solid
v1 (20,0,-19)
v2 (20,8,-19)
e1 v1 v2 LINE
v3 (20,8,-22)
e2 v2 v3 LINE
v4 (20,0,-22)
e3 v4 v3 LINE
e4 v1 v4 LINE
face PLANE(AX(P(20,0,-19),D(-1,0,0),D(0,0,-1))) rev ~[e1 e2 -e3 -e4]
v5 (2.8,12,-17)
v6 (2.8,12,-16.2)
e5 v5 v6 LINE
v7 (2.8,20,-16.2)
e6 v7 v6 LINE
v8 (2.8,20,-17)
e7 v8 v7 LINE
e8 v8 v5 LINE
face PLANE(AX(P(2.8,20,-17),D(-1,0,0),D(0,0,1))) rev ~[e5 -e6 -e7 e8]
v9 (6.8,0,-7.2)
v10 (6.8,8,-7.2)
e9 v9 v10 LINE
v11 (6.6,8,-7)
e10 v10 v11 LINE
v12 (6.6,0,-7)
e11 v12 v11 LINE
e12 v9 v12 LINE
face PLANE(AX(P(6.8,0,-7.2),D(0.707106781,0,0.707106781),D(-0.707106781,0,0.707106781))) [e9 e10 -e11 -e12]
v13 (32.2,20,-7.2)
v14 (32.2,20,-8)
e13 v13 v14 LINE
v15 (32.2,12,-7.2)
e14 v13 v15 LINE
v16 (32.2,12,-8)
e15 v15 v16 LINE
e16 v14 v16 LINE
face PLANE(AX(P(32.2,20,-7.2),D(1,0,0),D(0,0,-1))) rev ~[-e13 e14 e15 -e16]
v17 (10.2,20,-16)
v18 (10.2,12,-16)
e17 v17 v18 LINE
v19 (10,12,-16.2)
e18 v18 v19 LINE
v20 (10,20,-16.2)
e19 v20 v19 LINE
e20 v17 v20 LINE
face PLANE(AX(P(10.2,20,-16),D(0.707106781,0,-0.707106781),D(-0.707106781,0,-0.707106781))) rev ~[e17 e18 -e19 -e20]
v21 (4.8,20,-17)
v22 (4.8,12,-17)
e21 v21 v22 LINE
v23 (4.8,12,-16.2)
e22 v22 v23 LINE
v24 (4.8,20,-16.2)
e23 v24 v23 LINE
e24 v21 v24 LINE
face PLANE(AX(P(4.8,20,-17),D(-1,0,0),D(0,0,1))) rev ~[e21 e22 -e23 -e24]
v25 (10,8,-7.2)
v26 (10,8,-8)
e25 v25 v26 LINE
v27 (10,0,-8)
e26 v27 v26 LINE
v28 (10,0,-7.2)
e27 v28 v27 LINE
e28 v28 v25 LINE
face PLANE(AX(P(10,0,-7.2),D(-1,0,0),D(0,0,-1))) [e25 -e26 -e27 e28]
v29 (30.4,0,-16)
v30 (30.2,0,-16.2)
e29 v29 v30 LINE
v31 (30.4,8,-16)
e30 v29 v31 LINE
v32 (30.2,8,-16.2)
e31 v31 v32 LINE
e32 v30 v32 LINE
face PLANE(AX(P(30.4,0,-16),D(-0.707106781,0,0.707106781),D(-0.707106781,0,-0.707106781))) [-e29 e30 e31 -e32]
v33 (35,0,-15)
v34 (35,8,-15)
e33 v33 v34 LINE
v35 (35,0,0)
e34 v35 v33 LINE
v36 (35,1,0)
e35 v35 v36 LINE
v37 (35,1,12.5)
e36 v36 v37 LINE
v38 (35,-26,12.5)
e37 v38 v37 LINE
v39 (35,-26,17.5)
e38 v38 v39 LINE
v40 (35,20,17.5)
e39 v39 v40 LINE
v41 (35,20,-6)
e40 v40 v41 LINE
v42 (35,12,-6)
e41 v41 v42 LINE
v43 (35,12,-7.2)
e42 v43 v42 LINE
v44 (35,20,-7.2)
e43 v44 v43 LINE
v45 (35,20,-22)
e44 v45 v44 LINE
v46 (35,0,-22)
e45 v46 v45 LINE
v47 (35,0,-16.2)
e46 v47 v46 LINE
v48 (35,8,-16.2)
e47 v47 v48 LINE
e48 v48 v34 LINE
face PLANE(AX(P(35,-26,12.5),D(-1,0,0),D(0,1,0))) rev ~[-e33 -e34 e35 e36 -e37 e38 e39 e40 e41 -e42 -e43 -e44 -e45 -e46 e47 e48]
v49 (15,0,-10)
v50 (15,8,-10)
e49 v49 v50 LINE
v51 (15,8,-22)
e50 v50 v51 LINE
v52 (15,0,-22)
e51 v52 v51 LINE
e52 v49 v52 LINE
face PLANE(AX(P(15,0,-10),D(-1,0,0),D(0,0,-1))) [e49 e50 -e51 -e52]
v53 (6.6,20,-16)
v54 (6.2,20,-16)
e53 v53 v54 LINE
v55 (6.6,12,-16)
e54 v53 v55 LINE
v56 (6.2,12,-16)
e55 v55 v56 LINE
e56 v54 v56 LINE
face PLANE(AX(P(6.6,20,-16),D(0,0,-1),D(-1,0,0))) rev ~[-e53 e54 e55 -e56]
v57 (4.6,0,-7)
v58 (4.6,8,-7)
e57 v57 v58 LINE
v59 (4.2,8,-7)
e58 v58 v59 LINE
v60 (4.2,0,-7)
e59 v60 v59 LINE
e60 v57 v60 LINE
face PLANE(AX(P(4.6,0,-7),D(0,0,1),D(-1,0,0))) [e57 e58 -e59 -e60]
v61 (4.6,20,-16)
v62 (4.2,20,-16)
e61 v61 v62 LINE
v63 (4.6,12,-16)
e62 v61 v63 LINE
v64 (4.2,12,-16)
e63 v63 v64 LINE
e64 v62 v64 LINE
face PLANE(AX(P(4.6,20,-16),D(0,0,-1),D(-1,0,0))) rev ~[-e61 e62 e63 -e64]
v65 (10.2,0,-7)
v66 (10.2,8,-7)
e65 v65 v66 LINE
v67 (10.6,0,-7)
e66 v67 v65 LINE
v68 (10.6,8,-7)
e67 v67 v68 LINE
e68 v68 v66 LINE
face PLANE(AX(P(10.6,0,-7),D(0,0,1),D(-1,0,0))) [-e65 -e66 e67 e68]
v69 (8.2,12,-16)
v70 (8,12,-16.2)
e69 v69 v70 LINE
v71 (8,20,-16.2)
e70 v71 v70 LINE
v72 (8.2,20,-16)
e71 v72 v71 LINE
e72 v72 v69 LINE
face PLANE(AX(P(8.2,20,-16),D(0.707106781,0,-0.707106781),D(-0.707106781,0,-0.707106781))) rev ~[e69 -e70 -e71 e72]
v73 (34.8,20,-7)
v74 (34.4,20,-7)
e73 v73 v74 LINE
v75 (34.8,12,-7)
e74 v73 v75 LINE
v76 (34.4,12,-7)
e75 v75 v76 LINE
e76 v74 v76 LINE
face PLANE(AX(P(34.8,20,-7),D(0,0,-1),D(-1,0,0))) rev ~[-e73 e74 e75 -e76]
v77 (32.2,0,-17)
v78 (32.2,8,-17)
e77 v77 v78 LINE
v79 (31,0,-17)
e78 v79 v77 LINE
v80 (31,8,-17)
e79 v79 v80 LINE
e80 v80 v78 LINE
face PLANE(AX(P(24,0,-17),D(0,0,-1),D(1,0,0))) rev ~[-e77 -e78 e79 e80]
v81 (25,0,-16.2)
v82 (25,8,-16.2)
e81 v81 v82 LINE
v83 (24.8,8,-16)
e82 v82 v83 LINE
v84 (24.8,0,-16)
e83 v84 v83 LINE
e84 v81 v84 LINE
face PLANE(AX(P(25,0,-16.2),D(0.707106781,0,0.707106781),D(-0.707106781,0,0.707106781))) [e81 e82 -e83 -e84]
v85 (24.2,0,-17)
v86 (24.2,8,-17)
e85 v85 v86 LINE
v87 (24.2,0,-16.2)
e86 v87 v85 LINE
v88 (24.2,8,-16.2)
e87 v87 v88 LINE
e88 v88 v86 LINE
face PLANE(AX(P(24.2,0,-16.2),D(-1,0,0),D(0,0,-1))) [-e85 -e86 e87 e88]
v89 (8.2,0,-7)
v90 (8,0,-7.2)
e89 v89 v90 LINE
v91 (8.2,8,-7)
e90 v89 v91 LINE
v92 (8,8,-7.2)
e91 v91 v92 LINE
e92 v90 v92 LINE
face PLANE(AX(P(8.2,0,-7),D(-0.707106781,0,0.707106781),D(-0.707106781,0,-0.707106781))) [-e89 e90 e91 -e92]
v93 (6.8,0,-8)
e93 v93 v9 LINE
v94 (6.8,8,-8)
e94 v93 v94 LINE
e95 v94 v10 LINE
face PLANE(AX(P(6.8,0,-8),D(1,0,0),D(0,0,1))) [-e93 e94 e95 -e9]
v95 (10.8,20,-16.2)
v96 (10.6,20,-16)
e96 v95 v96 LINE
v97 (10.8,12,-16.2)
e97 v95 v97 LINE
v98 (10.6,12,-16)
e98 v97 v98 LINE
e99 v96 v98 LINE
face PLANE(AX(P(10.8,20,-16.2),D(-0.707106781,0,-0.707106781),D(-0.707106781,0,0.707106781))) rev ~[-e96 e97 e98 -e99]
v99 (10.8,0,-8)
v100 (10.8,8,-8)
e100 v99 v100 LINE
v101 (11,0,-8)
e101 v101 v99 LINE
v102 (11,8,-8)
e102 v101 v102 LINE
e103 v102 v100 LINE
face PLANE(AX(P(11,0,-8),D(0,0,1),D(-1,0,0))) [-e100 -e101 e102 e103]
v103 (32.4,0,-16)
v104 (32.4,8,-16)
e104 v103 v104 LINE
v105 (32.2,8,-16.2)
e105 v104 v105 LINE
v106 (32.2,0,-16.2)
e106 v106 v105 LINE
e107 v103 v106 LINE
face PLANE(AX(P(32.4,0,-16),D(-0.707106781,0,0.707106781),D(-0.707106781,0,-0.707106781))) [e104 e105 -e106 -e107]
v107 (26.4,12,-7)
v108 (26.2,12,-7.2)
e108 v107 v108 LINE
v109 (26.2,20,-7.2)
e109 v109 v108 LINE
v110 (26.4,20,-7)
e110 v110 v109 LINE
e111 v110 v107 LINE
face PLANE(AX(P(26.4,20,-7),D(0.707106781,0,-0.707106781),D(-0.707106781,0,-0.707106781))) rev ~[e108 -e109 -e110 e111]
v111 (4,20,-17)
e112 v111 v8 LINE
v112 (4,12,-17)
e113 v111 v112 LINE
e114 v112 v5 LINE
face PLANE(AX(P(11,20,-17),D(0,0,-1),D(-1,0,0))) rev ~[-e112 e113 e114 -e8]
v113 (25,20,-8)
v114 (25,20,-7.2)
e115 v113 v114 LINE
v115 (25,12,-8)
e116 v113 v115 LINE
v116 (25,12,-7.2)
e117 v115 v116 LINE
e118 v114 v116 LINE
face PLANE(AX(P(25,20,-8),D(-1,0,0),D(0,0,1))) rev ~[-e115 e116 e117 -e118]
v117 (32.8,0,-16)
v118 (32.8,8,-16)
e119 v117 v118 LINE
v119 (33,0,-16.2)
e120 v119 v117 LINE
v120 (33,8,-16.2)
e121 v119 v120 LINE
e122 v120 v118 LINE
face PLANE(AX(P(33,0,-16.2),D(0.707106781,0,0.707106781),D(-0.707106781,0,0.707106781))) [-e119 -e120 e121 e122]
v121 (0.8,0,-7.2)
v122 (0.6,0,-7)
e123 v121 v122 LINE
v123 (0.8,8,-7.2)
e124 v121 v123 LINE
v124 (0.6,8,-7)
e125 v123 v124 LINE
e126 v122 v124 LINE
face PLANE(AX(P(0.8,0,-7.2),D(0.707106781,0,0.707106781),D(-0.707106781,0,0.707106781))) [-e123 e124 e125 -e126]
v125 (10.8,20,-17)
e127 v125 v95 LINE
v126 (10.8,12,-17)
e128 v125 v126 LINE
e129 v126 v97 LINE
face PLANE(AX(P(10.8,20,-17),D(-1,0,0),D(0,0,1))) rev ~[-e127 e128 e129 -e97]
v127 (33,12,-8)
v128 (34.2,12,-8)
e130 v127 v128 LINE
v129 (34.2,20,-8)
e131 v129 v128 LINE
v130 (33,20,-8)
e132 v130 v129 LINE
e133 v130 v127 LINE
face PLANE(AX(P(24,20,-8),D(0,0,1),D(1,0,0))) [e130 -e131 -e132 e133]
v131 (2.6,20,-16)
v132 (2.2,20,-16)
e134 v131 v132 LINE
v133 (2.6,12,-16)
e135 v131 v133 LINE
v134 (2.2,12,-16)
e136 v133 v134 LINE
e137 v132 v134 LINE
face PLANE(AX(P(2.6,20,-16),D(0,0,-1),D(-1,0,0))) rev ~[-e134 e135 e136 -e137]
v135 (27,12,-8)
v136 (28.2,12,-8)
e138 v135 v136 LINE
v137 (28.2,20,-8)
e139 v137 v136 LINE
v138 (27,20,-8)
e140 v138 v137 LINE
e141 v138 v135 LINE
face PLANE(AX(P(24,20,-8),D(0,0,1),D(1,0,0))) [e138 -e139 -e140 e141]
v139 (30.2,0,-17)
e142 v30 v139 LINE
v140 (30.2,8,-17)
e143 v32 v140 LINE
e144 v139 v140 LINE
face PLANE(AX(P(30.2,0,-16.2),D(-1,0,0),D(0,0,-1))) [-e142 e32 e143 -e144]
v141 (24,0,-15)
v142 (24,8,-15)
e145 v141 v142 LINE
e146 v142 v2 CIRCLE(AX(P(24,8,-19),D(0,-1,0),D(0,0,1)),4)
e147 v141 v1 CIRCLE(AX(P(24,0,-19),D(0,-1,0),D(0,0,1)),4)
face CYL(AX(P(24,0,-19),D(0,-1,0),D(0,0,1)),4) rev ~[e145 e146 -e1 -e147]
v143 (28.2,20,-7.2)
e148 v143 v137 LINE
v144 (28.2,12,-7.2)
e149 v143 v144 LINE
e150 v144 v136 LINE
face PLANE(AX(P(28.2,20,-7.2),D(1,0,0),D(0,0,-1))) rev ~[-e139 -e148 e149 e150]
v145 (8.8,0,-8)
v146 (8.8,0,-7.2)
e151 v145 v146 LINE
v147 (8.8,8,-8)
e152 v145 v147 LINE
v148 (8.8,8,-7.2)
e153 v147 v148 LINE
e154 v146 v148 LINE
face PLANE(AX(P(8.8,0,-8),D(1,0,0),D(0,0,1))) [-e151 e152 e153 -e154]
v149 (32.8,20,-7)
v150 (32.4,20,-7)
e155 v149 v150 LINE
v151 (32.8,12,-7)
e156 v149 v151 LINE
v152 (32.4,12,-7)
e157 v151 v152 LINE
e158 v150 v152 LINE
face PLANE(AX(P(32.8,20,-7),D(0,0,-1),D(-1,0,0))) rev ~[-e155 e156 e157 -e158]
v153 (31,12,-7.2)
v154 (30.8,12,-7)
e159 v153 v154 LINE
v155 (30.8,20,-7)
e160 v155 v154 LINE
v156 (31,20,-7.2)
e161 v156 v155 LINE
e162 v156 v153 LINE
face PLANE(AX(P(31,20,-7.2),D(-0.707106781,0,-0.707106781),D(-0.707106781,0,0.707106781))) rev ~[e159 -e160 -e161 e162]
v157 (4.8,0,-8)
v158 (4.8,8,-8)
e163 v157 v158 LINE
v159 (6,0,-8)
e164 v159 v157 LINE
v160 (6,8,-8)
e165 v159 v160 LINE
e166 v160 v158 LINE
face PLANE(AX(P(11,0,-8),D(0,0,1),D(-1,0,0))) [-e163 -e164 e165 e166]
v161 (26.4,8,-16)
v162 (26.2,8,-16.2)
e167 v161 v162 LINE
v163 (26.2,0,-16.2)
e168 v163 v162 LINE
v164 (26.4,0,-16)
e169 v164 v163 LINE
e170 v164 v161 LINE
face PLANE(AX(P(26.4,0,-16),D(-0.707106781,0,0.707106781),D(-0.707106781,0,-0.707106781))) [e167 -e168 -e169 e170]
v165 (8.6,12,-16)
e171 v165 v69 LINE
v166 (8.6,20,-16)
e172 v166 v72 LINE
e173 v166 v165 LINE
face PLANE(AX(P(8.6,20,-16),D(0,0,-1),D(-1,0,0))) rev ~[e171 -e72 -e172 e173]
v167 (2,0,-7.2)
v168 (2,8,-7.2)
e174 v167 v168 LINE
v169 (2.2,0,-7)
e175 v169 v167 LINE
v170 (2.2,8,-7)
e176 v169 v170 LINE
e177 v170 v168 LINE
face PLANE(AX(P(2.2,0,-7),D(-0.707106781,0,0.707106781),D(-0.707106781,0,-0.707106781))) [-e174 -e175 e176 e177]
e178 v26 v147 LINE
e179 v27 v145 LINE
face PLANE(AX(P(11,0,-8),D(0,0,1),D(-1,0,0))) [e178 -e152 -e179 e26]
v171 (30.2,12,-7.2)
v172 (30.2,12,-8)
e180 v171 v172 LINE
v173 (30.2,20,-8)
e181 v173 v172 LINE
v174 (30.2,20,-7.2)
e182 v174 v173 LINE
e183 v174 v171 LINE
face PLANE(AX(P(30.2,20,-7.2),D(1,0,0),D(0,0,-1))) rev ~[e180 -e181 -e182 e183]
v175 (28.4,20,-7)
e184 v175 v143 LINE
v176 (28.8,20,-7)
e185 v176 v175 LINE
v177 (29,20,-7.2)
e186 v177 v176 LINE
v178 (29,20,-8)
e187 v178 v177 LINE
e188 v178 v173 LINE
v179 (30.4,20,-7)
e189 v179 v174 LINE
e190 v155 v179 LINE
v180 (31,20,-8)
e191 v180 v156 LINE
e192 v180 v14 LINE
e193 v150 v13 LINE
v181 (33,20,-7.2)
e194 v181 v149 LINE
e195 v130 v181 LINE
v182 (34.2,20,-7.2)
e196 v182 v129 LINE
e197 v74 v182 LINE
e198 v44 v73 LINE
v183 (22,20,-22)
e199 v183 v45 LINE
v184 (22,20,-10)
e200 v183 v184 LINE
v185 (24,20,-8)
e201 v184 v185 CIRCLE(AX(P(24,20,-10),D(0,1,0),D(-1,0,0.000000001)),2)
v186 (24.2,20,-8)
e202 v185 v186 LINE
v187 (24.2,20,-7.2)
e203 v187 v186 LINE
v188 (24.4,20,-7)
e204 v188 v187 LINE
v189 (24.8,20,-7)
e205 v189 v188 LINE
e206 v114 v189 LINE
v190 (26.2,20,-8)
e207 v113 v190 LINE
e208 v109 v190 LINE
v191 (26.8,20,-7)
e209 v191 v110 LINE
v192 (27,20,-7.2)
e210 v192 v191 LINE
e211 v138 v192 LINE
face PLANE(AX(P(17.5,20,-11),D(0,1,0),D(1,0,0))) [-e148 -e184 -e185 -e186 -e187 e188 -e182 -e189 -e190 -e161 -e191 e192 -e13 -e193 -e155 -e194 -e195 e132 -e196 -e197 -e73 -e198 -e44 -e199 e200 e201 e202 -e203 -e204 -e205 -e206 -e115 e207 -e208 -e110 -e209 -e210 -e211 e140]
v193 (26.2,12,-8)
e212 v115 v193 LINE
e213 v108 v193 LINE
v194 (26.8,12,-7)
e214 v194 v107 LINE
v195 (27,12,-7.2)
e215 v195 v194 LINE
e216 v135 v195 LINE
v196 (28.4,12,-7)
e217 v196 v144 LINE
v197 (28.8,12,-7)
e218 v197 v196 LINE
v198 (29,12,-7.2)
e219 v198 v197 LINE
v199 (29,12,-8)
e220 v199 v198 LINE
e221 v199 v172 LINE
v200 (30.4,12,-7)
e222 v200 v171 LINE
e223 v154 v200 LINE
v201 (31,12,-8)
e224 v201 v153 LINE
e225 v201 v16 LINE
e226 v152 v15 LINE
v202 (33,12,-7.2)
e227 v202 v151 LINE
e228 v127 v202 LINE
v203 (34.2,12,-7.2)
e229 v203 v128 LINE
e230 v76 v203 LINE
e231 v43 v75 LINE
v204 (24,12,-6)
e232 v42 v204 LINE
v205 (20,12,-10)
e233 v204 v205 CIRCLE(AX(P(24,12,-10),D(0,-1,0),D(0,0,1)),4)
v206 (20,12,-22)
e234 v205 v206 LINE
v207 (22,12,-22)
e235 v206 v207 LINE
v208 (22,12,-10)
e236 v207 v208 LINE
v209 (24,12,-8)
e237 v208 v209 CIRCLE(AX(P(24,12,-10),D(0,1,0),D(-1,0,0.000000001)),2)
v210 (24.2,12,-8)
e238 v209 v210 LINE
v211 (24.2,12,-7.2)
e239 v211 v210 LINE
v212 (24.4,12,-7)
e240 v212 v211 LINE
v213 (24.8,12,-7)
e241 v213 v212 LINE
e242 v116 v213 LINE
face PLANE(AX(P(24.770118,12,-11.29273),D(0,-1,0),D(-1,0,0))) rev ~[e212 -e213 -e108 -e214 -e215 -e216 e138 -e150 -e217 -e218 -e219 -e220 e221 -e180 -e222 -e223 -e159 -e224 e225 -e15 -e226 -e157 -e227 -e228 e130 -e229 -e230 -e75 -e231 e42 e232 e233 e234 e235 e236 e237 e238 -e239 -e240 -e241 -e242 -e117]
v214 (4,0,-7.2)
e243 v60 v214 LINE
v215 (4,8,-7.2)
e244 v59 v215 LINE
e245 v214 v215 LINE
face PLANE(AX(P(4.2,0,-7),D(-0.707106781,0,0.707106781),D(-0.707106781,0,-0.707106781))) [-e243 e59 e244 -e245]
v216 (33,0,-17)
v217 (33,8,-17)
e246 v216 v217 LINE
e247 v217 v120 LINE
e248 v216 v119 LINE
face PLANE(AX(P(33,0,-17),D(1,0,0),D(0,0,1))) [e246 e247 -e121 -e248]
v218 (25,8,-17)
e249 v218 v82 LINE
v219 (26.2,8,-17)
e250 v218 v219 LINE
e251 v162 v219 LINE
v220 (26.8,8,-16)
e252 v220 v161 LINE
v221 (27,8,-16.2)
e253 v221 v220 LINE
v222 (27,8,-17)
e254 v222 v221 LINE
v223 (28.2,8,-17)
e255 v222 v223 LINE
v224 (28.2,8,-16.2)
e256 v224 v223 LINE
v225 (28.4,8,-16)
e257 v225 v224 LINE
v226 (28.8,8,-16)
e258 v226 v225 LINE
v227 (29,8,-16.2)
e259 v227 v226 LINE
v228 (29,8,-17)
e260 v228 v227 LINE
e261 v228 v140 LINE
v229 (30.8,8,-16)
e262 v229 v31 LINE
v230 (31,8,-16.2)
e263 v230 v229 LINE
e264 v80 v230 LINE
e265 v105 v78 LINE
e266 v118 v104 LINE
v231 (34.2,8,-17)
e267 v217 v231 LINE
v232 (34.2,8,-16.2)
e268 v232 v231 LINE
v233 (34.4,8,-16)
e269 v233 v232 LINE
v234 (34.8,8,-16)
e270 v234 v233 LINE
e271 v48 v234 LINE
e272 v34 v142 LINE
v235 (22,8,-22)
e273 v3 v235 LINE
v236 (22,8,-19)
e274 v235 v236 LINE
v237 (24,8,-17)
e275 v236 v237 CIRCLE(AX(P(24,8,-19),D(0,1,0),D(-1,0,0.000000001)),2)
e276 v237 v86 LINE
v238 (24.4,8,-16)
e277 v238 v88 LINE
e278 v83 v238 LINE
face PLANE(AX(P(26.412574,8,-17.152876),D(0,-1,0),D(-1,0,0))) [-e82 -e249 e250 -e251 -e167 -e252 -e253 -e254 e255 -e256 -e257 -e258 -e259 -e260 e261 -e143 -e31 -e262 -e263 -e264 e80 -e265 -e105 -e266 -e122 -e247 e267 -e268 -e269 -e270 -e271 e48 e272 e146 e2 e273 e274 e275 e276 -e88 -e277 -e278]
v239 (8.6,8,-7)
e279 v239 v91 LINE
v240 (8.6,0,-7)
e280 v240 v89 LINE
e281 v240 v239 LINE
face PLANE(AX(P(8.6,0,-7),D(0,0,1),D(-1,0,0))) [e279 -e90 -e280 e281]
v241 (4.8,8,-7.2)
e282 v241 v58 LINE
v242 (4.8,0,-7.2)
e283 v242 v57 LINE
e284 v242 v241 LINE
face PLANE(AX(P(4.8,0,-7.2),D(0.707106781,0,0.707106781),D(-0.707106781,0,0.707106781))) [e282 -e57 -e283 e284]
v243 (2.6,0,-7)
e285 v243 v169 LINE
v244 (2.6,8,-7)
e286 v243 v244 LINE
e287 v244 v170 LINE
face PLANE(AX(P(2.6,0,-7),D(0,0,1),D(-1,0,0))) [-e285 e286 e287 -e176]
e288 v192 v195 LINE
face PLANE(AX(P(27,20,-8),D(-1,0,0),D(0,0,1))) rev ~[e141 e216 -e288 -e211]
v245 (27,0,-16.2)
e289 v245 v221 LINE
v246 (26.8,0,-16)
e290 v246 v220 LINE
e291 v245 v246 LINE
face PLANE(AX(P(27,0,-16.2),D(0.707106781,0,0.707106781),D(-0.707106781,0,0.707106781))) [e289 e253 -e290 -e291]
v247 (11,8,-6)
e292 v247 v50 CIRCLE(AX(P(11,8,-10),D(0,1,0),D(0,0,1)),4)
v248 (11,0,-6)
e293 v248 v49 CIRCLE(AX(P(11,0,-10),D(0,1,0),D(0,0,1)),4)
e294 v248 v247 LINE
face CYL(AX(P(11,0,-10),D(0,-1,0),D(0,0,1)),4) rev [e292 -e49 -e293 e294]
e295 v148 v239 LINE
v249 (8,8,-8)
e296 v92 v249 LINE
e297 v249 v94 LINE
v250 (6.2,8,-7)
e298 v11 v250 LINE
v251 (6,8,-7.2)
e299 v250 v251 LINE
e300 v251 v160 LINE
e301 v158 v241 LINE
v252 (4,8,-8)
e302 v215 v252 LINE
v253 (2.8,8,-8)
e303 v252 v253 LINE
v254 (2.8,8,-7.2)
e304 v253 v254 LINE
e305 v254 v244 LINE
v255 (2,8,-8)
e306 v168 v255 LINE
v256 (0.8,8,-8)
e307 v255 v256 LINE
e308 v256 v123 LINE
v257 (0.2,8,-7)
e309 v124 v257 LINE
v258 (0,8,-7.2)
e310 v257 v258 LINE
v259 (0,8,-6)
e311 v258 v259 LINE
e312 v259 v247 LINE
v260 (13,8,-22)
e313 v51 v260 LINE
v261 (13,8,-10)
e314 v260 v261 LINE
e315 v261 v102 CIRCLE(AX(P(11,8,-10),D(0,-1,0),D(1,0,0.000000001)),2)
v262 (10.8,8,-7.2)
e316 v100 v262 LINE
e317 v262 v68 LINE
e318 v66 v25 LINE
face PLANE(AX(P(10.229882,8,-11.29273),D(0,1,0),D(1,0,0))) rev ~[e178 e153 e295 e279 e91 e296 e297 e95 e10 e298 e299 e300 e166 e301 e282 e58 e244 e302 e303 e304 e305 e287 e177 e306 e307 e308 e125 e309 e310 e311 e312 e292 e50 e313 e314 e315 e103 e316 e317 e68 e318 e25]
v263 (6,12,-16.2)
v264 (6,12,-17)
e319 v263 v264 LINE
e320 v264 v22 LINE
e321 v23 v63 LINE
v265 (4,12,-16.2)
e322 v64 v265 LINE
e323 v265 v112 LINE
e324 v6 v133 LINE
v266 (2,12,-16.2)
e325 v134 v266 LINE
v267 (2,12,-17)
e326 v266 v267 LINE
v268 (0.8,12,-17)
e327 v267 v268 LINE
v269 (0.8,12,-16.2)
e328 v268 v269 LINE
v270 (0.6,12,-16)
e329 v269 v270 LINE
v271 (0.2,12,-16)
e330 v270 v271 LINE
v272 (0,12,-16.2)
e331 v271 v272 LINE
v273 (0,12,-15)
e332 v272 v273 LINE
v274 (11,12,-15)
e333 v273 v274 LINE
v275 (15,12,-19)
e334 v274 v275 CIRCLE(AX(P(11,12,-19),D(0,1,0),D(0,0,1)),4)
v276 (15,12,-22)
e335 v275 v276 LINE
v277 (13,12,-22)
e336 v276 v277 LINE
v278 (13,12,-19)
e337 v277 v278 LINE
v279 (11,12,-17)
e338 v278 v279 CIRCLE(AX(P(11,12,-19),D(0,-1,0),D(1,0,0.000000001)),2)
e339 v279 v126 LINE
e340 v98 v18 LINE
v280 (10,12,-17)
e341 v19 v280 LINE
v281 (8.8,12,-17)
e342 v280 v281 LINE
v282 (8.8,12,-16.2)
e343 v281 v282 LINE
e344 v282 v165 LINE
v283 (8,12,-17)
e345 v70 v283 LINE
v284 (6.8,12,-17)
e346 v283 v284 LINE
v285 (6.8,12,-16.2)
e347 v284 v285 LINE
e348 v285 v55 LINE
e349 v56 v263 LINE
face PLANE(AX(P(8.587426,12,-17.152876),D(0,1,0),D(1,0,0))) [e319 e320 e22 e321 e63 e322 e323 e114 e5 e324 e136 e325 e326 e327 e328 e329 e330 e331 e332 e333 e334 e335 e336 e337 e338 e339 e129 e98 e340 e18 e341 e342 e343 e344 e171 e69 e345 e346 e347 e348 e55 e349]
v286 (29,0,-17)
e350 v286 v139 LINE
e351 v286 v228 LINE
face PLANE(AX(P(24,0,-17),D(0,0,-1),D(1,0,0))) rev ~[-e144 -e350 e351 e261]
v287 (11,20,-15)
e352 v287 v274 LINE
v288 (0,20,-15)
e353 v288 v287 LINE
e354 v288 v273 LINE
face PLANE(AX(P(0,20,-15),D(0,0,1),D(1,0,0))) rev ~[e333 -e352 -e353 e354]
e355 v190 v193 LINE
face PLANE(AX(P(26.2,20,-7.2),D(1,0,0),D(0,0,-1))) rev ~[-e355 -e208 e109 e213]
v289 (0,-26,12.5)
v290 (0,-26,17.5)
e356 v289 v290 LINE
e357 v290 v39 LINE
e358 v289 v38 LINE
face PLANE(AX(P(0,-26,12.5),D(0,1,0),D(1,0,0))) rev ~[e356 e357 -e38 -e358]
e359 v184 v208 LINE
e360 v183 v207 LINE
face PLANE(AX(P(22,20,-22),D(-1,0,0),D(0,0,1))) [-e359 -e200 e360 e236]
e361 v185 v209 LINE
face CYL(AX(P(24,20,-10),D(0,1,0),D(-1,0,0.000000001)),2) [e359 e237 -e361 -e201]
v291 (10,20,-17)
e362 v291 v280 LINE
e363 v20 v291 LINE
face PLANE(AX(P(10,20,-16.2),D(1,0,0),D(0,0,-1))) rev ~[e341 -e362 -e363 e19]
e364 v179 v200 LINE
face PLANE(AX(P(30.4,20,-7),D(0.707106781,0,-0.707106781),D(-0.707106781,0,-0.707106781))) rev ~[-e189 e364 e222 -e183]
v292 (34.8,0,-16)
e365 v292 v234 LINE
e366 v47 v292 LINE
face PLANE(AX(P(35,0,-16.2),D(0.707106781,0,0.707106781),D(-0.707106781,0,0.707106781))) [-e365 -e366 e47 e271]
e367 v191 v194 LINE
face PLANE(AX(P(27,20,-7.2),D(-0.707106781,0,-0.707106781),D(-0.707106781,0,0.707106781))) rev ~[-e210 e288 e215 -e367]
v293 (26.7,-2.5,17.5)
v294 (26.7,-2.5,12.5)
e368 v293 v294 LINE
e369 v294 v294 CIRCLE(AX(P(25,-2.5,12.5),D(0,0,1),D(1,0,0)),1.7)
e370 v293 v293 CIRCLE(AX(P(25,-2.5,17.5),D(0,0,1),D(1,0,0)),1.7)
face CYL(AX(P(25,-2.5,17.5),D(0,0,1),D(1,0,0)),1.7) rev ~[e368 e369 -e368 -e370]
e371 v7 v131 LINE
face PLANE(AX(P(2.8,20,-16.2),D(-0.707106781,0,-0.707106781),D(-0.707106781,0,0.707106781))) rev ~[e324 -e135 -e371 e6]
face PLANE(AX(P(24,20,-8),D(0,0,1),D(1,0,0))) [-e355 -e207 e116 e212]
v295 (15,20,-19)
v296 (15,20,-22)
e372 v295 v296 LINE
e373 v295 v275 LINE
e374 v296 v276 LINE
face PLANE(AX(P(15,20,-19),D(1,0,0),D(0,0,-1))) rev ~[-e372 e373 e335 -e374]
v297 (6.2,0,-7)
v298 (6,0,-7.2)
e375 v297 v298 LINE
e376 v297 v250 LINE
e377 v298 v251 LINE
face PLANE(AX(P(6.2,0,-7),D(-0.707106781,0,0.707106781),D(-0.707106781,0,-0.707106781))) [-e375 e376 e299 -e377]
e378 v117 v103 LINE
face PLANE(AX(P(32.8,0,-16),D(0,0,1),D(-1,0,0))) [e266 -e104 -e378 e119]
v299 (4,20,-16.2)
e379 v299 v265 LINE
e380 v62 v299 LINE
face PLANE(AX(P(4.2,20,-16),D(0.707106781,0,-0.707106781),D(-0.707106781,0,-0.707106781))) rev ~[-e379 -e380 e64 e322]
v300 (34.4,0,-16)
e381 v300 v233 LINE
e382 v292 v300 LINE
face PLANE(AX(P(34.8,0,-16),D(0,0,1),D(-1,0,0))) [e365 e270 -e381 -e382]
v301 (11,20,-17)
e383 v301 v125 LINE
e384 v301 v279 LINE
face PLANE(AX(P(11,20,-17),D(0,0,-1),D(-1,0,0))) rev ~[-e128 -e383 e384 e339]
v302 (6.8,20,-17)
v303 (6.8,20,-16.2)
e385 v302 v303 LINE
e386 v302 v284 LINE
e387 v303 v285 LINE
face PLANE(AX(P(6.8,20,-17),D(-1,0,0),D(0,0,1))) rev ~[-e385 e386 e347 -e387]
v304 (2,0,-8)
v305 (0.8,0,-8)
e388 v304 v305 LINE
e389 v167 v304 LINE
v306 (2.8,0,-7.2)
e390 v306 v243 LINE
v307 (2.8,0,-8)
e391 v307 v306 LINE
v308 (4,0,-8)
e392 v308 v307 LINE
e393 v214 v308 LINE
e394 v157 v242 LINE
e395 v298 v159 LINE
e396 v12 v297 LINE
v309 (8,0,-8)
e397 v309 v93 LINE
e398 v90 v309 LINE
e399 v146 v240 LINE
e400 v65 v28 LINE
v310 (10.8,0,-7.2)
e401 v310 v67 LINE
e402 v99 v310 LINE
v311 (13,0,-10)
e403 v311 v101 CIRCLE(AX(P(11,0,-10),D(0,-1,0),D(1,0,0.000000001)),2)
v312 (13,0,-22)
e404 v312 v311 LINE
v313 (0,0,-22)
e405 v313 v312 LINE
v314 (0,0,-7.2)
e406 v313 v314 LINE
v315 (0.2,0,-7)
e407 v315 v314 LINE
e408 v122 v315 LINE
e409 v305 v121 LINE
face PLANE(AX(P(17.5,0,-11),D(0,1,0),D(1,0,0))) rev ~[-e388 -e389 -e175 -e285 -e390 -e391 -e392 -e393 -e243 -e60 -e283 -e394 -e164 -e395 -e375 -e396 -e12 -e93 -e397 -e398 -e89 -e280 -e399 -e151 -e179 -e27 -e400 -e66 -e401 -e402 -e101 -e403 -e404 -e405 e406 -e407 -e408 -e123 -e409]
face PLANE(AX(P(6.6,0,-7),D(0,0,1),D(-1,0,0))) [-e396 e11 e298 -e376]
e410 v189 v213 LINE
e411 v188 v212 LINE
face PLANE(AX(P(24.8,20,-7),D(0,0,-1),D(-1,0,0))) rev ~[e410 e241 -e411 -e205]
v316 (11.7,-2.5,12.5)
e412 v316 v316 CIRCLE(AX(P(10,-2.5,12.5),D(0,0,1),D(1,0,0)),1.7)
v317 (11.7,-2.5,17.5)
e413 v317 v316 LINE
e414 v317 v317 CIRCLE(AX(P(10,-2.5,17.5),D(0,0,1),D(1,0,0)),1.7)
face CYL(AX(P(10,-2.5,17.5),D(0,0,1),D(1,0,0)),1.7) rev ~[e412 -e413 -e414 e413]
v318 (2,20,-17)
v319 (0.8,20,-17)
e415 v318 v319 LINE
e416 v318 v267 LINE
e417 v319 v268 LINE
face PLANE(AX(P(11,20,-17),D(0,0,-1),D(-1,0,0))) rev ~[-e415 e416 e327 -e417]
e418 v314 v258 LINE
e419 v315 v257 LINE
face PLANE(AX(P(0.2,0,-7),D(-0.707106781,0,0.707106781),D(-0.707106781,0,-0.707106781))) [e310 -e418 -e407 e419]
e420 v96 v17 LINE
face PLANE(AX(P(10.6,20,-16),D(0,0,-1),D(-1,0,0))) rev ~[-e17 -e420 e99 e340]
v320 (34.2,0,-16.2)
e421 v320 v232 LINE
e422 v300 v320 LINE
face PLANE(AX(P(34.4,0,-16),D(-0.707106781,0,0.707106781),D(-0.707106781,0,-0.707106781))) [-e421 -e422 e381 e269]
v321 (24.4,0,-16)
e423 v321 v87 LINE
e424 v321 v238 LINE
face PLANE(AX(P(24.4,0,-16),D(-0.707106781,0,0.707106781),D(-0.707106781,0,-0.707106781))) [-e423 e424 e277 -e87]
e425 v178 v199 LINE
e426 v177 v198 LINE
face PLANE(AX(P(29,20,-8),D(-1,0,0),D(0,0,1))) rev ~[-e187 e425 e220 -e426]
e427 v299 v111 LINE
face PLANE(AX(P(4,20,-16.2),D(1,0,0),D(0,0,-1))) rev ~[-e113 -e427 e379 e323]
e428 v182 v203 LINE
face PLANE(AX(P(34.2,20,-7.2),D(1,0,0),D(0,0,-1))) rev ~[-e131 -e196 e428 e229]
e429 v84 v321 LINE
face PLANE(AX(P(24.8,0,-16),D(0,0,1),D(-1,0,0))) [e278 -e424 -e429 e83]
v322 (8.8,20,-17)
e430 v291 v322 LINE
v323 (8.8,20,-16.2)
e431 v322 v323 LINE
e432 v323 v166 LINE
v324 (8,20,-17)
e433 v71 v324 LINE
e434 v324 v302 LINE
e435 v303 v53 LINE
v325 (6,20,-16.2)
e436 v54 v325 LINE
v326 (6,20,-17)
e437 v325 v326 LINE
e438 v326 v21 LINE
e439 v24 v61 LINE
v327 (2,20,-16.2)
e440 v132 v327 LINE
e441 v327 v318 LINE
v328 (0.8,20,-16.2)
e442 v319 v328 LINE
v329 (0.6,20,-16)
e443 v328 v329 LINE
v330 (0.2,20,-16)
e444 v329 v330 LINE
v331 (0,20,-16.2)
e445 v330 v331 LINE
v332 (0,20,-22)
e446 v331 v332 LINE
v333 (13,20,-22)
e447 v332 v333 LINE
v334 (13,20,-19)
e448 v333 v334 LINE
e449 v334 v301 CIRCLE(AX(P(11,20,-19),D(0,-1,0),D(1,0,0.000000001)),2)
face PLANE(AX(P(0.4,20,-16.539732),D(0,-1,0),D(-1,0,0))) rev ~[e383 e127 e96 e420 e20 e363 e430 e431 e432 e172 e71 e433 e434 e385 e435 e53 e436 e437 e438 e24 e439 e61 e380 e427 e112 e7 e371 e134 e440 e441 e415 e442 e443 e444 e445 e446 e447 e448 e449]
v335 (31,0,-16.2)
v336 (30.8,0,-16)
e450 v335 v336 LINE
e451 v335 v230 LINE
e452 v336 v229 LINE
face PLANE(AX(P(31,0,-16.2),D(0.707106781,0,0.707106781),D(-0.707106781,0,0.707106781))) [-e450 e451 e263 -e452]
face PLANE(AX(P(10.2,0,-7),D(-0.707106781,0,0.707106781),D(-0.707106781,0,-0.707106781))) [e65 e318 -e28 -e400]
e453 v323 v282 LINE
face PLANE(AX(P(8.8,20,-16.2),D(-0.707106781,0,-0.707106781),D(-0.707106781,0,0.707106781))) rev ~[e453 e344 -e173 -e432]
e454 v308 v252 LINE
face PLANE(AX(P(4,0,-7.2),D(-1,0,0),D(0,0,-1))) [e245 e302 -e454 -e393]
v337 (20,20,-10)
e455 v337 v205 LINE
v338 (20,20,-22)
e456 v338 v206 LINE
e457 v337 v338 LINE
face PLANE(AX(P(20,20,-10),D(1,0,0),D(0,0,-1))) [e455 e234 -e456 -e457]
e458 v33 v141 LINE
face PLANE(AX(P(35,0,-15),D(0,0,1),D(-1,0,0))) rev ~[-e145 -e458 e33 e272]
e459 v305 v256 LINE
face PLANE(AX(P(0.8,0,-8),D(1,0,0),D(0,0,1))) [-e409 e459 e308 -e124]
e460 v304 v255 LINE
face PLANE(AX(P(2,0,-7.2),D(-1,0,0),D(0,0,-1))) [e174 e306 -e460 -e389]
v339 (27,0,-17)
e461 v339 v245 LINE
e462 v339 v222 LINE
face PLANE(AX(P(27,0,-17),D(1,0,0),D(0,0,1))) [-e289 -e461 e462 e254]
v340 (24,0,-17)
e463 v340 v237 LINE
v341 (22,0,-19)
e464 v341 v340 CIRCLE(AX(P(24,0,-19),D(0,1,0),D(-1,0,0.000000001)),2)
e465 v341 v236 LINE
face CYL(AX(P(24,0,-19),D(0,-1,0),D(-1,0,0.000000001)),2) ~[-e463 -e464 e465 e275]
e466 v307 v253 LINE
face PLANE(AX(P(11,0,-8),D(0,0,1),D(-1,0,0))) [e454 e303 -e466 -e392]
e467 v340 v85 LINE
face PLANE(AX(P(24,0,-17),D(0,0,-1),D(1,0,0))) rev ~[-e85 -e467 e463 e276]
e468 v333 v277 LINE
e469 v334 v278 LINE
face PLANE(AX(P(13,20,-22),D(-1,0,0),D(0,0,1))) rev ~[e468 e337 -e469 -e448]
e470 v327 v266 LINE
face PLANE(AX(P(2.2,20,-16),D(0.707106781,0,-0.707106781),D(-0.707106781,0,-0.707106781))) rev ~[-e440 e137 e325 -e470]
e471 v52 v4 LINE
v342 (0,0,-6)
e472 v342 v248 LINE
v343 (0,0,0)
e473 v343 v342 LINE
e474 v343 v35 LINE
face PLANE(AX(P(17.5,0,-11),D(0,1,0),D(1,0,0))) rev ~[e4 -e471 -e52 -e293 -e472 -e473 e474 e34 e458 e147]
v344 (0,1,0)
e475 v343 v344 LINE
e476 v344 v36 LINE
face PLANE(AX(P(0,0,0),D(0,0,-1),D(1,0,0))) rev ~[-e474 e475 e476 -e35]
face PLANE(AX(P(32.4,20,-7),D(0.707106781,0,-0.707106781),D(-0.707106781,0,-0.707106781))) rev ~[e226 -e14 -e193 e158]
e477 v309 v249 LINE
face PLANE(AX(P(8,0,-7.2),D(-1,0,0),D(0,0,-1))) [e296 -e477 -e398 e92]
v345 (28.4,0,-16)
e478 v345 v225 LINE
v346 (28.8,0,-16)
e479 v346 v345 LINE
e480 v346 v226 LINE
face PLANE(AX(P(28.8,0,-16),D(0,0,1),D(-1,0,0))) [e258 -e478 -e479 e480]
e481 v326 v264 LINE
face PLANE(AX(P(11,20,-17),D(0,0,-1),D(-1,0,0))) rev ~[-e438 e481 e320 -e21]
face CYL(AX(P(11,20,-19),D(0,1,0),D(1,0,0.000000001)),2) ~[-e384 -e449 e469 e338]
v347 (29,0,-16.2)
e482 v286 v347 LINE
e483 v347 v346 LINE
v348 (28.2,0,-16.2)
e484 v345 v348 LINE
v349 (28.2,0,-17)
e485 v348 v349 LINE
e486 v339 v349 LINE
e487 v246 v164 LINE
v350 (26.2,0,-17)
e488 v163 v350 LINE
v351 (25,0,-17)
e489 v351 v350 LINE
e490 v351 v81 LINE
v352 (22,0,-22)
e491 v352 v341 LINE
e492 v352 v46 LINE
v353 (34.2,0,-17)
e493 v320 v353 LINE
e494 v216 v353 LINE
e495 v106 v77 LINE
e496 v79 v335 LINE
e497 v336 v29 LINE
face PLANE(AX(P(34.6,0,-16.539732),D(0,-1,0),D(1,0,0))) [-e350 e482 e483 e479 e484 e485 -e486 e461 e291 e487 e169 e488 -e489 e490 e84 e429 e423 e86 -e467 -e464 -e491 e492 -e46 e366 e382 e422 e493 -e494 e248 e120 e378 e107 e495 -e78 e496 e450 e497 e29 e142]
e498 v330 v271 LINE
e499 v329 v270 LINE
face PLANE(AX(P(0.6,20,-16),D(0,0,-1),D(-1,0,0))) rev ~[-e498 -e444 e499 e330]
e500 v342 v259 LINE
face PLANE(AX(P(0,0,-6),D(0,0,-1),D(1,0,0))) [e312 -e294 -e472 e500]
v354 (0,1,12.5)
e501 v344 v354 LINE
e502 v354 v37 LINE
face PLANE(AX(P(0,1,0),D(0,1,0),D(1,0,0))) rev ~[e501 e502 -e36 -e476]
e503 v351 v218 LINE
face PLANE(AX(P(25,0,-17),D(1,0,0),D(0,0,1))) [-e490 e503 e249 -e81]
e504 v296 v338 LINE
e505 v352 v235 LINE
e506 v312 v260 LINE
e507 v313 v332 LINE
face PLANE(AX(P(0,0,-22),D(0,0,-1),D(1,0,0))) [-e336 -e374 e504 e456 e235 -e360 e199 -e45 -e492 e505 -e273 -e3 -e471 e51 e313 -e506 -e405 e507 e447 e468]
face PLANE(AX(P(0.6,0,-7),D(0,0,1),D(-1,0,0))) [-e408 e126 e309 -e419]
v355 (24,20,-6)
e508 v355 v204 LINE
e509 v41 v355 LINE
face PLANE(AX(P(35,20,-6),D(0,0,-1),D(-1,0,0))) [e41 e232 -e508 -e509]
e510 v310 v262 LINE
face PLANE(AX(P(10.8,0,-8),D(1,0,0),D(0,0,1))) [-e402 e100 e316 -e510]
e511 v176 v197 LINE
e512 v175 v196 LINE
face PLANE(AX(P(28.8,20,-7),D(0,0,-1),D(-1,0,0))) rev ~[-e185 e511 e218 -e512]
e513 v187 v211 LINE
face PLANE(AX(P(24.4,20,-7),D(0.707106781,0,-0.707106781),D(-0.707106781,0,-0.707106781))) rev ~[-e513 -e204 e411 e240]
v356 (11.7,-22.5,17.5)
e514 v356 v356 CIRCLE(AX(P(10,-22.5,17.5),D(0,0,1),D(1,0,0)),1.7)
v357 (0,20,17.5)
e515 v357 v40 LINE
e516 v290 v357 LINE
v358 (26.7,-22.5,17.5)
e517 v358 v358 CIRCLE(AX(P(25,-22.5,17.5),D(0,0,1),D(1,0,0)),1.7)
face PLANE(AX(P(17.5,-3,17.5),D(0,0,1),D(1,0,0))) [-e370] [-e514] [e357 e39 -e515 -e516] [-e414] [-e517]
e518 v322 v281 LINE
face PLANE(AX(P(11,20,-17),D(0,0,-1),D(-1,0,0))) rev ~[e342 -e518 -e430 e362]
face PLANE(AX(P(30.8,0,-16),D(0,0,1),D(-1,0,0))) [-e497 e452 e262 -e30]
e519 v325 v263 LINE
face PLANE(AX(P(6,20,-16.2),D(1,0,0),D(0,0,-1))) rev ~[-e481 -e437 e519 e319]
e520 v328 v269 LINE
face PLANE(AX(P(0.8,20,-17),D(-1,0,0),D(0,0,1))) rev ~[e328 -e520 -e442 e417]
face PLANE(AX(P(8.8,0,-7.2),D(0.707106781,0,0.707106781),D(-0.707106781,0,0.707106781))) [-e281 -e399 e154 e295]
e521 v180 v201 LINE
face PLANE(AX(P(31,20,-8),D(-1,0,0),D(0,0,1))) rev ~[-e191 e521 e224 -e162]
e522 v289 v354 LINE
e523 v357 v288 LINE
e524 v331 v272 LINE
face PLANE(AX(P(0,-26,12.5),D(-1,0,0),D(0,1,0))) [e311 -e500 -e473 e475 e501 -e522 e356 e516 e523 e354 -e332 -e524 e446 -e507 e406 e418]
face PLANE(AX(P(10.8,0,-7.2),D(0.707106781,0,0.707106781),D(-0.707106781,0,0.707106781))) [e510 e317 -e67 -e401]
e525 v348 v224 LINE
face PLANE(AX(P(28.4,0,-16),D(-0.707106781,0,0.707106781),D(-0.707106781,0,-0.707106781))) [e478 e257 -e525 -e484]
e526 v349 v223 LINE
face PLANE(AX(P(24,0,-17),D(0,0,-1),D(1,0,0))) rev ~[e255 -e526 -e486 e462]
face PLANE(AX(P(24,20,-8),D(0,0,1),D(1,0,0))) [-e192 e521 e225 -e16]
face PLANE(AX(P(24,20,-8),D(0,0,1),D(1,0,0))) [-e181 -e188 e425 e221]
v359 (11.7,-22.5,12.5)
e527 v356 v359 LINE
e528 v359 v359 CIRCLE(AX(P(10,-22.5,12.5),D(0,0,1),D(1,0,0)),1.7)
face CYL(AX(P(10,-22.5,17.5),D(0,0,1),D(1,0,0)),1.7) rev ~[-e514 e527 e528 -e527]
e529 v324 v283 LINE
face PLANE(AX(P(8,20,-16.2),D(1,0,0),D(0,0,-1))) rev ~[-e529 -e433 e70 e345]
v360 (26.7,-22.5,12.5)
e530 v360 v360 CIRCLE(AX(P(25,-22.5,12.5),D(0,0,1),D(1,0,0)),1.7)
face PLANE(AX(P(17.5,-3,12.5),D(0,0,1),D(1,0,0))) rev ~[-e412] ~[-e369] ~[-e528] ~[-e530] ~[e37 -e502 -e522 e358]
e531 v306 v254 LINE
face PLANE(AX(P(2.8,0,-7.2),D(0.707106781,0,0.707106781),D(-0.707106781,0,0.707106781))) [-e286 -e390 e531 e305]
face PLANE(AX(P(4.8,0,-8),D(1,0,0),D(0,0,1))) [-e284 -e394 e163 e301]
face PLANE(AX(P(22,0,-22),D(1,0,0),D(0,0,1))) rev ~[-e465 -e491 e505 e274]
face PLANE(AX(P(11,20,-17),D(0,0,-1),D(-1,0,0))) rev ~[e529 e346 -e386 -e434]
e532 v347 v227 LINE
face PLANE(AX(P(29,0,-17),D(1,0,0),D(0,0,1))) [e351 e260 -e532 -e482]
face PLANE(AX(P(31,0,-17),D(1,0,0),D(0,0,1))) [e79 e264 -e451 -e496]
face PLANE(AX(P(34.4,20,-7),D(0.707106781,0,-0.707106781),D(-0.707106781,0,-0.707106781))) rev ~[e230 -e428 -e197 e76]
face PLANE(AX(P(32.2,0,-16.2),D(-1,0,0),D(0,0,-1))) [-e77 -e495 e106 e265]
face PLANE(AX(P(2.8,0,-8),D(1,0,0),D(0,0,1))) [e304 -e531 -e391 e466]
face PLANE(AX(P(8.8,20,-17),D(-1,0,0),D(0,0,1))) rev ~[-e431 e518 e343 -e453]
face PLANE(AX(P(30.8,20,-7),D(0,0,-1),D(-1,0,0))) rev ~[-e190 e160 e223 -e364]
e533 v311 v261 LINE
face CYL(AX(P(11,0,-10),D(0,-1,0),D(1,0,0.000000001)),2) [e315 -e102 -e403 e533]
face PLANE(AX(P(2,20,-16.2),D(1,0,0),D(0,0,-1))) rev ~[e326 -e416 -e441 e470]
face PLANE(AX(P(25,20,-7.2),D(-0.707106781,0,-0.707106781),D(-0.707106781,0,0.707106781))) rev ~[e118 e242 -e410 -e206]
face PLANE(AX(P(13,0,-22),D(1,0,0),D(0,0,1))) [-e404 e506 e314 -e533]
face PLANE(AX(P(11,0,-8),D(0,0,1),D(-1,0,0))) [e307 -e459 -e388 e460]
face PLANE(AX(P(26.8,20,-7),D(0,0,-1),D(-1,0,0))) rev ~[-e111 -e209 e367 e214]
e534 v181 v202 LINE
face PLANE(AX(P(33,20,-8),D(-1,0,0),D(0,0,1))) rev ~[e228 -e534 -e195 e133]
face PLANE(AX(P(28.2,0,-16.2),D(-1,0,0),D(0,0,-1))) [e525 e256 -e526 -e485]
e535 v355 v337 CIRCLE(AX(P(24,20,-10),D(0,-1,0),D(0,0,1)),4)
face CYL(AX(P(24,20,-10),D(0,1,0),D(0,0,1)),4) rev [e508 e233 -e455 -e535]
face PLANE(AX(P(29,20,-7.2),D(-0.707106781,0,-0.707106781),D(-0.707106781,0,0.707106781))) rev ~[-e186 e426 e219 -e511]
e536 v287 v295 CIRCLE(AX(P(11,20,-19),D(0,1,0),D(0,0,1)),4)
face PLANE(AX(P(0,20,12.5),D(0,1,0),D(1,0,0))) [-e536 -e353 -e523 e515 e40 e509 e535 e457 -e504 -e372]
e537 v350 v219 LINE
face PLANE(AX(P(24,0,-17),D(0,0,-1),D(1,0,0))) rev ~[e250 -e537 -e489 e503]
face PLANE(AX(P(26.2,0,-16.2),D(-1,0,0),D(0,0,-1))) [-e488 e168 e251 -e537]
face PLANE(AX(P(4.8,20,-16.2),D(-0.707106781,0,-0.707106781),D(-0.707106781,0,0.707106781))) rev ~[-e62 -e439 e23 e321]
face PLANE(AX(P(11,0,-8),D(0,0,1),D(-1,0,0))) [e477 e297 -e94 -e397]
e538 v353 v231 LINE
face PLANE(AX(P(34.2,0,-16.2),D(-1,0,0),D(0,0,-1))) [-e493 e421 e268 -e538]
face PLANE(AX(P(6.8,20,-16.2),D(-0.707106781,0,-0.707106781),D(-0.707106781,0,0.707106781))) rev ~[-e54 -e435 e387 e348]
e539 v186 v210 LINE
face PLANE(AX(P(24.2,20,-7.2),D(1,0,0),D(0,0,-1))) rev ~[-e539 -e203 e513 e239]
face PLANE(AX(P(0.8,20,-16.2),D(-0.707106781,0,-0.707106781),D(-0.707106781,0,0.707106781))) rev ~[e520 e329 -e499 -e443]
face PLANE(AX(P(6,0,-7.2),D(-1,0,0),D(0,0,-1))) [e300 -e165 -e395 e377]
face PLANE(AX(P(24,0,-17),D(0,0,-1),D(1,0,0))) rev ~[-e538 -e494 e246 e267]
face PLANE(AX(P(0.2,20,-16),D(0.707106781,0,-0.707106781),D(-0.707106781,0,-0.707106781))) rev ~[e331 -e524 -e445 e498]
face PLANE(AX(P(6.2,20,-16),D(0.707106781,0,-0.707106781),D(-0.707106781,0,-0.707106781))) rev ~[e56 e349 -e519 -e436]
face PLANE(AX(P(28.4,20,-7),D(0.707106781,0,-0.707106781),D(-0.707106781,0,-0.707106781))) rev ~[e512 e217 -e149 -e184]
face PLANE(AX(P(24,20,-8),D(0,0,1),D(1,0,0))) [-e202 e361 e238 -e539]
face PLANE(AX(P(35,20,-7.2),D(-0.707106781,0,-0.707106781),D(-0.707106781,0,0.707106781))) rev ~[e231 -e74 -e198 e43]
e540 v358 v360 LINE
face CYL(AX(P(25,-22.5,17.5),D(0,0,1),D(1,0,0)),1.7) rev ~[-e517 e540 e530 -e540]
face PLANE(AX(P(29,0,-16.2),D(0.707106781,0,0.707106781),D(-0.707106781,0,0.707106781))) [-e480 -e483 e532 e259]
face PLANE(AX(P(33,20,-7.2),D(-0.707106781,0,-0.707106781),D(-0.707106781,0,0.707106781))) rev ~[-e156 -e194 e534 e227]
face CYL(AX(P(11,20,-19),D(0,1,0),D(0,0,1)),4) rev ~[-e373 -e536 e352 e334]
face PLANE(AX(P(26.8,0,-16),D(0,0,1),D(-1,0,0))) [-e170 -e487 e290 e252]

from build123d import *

# Parameters (mm, degrees)
SKETCH1_W           = 35
SKETCH1_H           = 22
BOSS_EXTRUDE1_DEPTH = 20
CUT_EXTRUDE1_DEPTH  = 8
CUT_EXTRUDE2_DEPTH  = 8
BOSS_EXTRUDE2_DEPTH = 8
BOSS_EXTRUDE4_DEPTH = 8
SKETCH9_W           = 35
SKETCH9_H           = 19
BOSS_EXTRUDE5_DEPTH = 12.5
SKETCH11_W          = 35
SKETCH11_H          = 46
BOSS_EXTRUDE6_DEPTH = 5
SKETCH12_R          = 1.7
CUT_EXTRUDE3_DEPTH  = 5


with BuildPart() as part:
    # Sketch1 → Boss-Extrude1 (new body)
    with BuildSketch(Plane(origin=(0, 0, 0), x_dir=(1, 0, 0), z_dir=(0, 1, 0))):
        with Locations((17.5, 11)):
            Rectangle(SKETCH1_W, SKETCH1_H)
    extrude(amount=BOSS_EXTRUDE1_DEPTH)

    # Sketch2 → Cut-Extrude1 (cut)
    with BuildSketch(Plane(origin=(0, 20, 0), x_dir=(1, 0, 0), z_dir=(0, 1, 0))):
        with BuildLine():
            Line((0, 15), (11, 15))
            ThreePointArc((11, 15), (13.828427125, 16.171572875), (15, 19))
            Line((15, 19), (15, 22))
            Line((15, 22), (13, 22))
            Line((13, 22), (13, 19))
            ThreePointArc((13, 19), (12.414213562, 17.585786438), (11, 17))
            Line((11, 17), (0, 17))
            Line((0, 17), (0, 15))
        make_face()
        with BuildLine():
            Line((35, 6), (24, 6))
            ThreePointArc((24, 6), (21.171572875, 7.171572875), (20, 10))
            Line((20, 10), (20, 22))
            Line((20, 22), (22, 22))
            Line((22, 22), (22, 10))
            ThreePointArc((22, 10), (22.585786438, 8.585786438), (24, 8))
            Line((24, 8), (35, 8))
            Line((35, 8), (35, 6))
        make_face()
    extrude(amount=-CUT_EXTRUDE1_DEPTH, mode=Mode.SUBTRACT)

    # Sketch5 → Cut-Extrude2 (cut)
    with BuildSketch(Plane(origin=(0, 0, 0), x_dir=(-1, 0, 0), z_dir=(0, -1, 0))):
        with BuildLine():
            Line((-35, 15), (-24, 15))
            ThreePointArc((-24, 15), (-21.171572875, 16.171572875), (-20, 19))
            Line((-20, 19), (-20, 22))
            Line((-20, 22), (-22, 22))
            Line((-22, 22), (-22, 19))
            ThreePointArc((-22, 19), (-22.585786438, 17.585786438), (-24, 17))
            Line((-24, 17), (-35, 17))
            Line((-35, 17), (-35, 15))
        make_face()
        with BuildLine():
            Line((0, 6), (-11, 6))
            ThreePointArc((-11, 6), (-13.828427125, 7.171572875), (-15, 10))
            Line((-15, 10), (-15, 22))
            Line((-15, 22), (-13, 22))
            Line((-13, 22), (-13, 10))
            ThreePointArc((-13, 10), (-12.414213562, 8.585786438), (-11, 8))
            Line((-11, 8), (0, 8))
            Line((0, 8), (0, 6))
        make_face()
    extrude(amount=-CUT_EXTRUDE2_DEPTH, mode=Mode.SUBTRACT)

    # Sketch6 → Boss-Extrude2 (add)
    with BuildSketch(Plane(origin=(0, 20, 0), x_dir=(1, 0, 0), z_dir=(0, 1, 0))):
        Polygon((0.2, 16), (0, 16.2), (0, 17), (0.8, 17), (0.8, 16.2), (0.6, 16), align=None)
        Polygon((2.2, 16), (2, 16.2), (2, 17), (2.8, 17), (2.8, 16.2), (2.6, 16), align=None)
        Polygon((4.2, 16), (4, 16.2), (4, 17), (4.8, 17), (4.8, 16.2), (4.6, 16), align=None)
        Polygon((6.2, 16), (6, 16.2), (6, 17), (6.8, 17), (6.8, 16.2), (6.6, 16), align=None)
        Polygon((8.2, 16), (8, 16.2), (8, 17), (8.8, 17), (8.8, 16.2), (8.6, 16), align=None)
        Polygon((10.2, 16), (10, 16.2), (10, 17), (10.8, 17), (10.8, 16.2), (10.6, 16), align=None)
        Polygon((34.4, 7), (34.2, 7.2), (34.2, 8), (35, 8), (35, 7.2), (34.8, 7), align=None)
        Polygon((32.4, 7), (32.2, 7.2), (32.2, 8), (33, 8), (33, 7.2), (32.8, 7), align=None)
        Polygon((30.4, 7), (30.2, 7.2), (30.2, 8), (31, 8), (31, 7.2), (30.8, 7), align=None)
        Polygon((28.4, 7), (28.2, 7.2), (28.2, 8), (29, 8), (29, 7.2), (28.8, 7), align=None)
        Polygon((26.4, 7), (26.2, 7.2), (26.2, 8), (27, 8), (27, 7.2), (26.8, 7), align=None)
        Polygon((24.4, 7), (24.2, 7.2), (24.2, 8), (25, 8), (25, 7.2), (24.8, 7), align=None)
    extrude(amount=-BOSS_EXTRUDE2_DEPTH)

    # Sketch8 → Boss-Extrude4 (add)
    with BuildSketch(Plane.XZ):
        Polygon((35, -17), (35, -16.2), (34.8, -16), (34.4, -16), (34.2, -16.2), (34.2, -17), align=None)
        Polygon((33, -17), (33, -16.2), (32.8, -16), (32.4, -16), (32.2, -16.2), (32.2, -17), align=None)
        Polygon((31, -17), (31, -16.2), (30.8, -16), (30.4, -16), (30.2, -16.2), (30.2, -17), align=None)
        Polygon((29, -17), (29, -16.2), (28.8, -16), (28.4, -16), (28.2, -16.2), (28.2, -17), align=None)
        Polygon((27, -17), (27, -16.2), (26.8, -16), (26.4, -16), (26.2, -16.2), (26.2, -17), align=None)
        Polygon((25, -17), (25, -16.2), (24.8, -16), (24.4, -16), (24.2, -16.2), (24.2, -17), align=None)
        Polygon((0.8, -8), (0.8, -7.2), (0.6, -7), (0.2, -7), (0, -7.2), (0, -8), align=None)
        Polygon((2.8, -8), (2.8, -7.2), (2.6, -7), (2.2, -7), (2, -7.2), (2, -8), align=None)
        Polygon((4.8, -8), (4.8, -7.2), (4.6, -7), (4.2, -7), (4, -7.2), (4, -8), align=None)
        Polygon((6.8, -8), (6.8, -7.2), (6.6, -7), (6.2, -7), (6, -7.2), (6, -8), align=None)
        Polygon((8.8, -8), (8.8, -7.2), (8.6, -7), (8.2, -7), (8, -7.2), (8, -8), align=None)
        Polygon((10.8, -8), (10.8, -7.2), (10.6, -7), (10.2, -7), (10, -7.2), (10, -8), align=None)
    extrude(amount=-BOSS_EXTRUDE4_DEPTH)

    # Sketch9 → Boss-Extrude5 (add)
    with BuildSketch(Plane.XY):
        with Locations((17.5, 10.5)):
            Rectangle(SKETCH9_W, SKETCH9_H)
    extrude(amount=BOSS_EXTRUDE5_DEPTH)

    # Sketch11 → Boss-Extrude6 (add)
    with BuildSketch(Plane.XY.offset(12.5)):
        with Locations((17.5, -3)):
            Rectangle(SKETCH11_W, SKETCH11_H)
    extrude(amount=BOSS_EXTRUDE6_DEPTH)

    # Sketch12 → Cut-Extrude3 (cut)
    with BuildSketch(Plane.XY.offset(17.5)):
        with Locations((10, -2.5)):
            Circle(SKETCH12_R)
        with Locations((25, -2.5)):
            Circle(SKETCH12_R)
        with Locations((25, -22.5)):
            Circle(SKETCH12_R)
        with Locations((10, -22.5)):
            Circle(SKETCH12_R)
    extrude(amount=-CUT_EXTRUDE3_DEPTH, mode=Mode.SUBTRACT)


solid = part.part
